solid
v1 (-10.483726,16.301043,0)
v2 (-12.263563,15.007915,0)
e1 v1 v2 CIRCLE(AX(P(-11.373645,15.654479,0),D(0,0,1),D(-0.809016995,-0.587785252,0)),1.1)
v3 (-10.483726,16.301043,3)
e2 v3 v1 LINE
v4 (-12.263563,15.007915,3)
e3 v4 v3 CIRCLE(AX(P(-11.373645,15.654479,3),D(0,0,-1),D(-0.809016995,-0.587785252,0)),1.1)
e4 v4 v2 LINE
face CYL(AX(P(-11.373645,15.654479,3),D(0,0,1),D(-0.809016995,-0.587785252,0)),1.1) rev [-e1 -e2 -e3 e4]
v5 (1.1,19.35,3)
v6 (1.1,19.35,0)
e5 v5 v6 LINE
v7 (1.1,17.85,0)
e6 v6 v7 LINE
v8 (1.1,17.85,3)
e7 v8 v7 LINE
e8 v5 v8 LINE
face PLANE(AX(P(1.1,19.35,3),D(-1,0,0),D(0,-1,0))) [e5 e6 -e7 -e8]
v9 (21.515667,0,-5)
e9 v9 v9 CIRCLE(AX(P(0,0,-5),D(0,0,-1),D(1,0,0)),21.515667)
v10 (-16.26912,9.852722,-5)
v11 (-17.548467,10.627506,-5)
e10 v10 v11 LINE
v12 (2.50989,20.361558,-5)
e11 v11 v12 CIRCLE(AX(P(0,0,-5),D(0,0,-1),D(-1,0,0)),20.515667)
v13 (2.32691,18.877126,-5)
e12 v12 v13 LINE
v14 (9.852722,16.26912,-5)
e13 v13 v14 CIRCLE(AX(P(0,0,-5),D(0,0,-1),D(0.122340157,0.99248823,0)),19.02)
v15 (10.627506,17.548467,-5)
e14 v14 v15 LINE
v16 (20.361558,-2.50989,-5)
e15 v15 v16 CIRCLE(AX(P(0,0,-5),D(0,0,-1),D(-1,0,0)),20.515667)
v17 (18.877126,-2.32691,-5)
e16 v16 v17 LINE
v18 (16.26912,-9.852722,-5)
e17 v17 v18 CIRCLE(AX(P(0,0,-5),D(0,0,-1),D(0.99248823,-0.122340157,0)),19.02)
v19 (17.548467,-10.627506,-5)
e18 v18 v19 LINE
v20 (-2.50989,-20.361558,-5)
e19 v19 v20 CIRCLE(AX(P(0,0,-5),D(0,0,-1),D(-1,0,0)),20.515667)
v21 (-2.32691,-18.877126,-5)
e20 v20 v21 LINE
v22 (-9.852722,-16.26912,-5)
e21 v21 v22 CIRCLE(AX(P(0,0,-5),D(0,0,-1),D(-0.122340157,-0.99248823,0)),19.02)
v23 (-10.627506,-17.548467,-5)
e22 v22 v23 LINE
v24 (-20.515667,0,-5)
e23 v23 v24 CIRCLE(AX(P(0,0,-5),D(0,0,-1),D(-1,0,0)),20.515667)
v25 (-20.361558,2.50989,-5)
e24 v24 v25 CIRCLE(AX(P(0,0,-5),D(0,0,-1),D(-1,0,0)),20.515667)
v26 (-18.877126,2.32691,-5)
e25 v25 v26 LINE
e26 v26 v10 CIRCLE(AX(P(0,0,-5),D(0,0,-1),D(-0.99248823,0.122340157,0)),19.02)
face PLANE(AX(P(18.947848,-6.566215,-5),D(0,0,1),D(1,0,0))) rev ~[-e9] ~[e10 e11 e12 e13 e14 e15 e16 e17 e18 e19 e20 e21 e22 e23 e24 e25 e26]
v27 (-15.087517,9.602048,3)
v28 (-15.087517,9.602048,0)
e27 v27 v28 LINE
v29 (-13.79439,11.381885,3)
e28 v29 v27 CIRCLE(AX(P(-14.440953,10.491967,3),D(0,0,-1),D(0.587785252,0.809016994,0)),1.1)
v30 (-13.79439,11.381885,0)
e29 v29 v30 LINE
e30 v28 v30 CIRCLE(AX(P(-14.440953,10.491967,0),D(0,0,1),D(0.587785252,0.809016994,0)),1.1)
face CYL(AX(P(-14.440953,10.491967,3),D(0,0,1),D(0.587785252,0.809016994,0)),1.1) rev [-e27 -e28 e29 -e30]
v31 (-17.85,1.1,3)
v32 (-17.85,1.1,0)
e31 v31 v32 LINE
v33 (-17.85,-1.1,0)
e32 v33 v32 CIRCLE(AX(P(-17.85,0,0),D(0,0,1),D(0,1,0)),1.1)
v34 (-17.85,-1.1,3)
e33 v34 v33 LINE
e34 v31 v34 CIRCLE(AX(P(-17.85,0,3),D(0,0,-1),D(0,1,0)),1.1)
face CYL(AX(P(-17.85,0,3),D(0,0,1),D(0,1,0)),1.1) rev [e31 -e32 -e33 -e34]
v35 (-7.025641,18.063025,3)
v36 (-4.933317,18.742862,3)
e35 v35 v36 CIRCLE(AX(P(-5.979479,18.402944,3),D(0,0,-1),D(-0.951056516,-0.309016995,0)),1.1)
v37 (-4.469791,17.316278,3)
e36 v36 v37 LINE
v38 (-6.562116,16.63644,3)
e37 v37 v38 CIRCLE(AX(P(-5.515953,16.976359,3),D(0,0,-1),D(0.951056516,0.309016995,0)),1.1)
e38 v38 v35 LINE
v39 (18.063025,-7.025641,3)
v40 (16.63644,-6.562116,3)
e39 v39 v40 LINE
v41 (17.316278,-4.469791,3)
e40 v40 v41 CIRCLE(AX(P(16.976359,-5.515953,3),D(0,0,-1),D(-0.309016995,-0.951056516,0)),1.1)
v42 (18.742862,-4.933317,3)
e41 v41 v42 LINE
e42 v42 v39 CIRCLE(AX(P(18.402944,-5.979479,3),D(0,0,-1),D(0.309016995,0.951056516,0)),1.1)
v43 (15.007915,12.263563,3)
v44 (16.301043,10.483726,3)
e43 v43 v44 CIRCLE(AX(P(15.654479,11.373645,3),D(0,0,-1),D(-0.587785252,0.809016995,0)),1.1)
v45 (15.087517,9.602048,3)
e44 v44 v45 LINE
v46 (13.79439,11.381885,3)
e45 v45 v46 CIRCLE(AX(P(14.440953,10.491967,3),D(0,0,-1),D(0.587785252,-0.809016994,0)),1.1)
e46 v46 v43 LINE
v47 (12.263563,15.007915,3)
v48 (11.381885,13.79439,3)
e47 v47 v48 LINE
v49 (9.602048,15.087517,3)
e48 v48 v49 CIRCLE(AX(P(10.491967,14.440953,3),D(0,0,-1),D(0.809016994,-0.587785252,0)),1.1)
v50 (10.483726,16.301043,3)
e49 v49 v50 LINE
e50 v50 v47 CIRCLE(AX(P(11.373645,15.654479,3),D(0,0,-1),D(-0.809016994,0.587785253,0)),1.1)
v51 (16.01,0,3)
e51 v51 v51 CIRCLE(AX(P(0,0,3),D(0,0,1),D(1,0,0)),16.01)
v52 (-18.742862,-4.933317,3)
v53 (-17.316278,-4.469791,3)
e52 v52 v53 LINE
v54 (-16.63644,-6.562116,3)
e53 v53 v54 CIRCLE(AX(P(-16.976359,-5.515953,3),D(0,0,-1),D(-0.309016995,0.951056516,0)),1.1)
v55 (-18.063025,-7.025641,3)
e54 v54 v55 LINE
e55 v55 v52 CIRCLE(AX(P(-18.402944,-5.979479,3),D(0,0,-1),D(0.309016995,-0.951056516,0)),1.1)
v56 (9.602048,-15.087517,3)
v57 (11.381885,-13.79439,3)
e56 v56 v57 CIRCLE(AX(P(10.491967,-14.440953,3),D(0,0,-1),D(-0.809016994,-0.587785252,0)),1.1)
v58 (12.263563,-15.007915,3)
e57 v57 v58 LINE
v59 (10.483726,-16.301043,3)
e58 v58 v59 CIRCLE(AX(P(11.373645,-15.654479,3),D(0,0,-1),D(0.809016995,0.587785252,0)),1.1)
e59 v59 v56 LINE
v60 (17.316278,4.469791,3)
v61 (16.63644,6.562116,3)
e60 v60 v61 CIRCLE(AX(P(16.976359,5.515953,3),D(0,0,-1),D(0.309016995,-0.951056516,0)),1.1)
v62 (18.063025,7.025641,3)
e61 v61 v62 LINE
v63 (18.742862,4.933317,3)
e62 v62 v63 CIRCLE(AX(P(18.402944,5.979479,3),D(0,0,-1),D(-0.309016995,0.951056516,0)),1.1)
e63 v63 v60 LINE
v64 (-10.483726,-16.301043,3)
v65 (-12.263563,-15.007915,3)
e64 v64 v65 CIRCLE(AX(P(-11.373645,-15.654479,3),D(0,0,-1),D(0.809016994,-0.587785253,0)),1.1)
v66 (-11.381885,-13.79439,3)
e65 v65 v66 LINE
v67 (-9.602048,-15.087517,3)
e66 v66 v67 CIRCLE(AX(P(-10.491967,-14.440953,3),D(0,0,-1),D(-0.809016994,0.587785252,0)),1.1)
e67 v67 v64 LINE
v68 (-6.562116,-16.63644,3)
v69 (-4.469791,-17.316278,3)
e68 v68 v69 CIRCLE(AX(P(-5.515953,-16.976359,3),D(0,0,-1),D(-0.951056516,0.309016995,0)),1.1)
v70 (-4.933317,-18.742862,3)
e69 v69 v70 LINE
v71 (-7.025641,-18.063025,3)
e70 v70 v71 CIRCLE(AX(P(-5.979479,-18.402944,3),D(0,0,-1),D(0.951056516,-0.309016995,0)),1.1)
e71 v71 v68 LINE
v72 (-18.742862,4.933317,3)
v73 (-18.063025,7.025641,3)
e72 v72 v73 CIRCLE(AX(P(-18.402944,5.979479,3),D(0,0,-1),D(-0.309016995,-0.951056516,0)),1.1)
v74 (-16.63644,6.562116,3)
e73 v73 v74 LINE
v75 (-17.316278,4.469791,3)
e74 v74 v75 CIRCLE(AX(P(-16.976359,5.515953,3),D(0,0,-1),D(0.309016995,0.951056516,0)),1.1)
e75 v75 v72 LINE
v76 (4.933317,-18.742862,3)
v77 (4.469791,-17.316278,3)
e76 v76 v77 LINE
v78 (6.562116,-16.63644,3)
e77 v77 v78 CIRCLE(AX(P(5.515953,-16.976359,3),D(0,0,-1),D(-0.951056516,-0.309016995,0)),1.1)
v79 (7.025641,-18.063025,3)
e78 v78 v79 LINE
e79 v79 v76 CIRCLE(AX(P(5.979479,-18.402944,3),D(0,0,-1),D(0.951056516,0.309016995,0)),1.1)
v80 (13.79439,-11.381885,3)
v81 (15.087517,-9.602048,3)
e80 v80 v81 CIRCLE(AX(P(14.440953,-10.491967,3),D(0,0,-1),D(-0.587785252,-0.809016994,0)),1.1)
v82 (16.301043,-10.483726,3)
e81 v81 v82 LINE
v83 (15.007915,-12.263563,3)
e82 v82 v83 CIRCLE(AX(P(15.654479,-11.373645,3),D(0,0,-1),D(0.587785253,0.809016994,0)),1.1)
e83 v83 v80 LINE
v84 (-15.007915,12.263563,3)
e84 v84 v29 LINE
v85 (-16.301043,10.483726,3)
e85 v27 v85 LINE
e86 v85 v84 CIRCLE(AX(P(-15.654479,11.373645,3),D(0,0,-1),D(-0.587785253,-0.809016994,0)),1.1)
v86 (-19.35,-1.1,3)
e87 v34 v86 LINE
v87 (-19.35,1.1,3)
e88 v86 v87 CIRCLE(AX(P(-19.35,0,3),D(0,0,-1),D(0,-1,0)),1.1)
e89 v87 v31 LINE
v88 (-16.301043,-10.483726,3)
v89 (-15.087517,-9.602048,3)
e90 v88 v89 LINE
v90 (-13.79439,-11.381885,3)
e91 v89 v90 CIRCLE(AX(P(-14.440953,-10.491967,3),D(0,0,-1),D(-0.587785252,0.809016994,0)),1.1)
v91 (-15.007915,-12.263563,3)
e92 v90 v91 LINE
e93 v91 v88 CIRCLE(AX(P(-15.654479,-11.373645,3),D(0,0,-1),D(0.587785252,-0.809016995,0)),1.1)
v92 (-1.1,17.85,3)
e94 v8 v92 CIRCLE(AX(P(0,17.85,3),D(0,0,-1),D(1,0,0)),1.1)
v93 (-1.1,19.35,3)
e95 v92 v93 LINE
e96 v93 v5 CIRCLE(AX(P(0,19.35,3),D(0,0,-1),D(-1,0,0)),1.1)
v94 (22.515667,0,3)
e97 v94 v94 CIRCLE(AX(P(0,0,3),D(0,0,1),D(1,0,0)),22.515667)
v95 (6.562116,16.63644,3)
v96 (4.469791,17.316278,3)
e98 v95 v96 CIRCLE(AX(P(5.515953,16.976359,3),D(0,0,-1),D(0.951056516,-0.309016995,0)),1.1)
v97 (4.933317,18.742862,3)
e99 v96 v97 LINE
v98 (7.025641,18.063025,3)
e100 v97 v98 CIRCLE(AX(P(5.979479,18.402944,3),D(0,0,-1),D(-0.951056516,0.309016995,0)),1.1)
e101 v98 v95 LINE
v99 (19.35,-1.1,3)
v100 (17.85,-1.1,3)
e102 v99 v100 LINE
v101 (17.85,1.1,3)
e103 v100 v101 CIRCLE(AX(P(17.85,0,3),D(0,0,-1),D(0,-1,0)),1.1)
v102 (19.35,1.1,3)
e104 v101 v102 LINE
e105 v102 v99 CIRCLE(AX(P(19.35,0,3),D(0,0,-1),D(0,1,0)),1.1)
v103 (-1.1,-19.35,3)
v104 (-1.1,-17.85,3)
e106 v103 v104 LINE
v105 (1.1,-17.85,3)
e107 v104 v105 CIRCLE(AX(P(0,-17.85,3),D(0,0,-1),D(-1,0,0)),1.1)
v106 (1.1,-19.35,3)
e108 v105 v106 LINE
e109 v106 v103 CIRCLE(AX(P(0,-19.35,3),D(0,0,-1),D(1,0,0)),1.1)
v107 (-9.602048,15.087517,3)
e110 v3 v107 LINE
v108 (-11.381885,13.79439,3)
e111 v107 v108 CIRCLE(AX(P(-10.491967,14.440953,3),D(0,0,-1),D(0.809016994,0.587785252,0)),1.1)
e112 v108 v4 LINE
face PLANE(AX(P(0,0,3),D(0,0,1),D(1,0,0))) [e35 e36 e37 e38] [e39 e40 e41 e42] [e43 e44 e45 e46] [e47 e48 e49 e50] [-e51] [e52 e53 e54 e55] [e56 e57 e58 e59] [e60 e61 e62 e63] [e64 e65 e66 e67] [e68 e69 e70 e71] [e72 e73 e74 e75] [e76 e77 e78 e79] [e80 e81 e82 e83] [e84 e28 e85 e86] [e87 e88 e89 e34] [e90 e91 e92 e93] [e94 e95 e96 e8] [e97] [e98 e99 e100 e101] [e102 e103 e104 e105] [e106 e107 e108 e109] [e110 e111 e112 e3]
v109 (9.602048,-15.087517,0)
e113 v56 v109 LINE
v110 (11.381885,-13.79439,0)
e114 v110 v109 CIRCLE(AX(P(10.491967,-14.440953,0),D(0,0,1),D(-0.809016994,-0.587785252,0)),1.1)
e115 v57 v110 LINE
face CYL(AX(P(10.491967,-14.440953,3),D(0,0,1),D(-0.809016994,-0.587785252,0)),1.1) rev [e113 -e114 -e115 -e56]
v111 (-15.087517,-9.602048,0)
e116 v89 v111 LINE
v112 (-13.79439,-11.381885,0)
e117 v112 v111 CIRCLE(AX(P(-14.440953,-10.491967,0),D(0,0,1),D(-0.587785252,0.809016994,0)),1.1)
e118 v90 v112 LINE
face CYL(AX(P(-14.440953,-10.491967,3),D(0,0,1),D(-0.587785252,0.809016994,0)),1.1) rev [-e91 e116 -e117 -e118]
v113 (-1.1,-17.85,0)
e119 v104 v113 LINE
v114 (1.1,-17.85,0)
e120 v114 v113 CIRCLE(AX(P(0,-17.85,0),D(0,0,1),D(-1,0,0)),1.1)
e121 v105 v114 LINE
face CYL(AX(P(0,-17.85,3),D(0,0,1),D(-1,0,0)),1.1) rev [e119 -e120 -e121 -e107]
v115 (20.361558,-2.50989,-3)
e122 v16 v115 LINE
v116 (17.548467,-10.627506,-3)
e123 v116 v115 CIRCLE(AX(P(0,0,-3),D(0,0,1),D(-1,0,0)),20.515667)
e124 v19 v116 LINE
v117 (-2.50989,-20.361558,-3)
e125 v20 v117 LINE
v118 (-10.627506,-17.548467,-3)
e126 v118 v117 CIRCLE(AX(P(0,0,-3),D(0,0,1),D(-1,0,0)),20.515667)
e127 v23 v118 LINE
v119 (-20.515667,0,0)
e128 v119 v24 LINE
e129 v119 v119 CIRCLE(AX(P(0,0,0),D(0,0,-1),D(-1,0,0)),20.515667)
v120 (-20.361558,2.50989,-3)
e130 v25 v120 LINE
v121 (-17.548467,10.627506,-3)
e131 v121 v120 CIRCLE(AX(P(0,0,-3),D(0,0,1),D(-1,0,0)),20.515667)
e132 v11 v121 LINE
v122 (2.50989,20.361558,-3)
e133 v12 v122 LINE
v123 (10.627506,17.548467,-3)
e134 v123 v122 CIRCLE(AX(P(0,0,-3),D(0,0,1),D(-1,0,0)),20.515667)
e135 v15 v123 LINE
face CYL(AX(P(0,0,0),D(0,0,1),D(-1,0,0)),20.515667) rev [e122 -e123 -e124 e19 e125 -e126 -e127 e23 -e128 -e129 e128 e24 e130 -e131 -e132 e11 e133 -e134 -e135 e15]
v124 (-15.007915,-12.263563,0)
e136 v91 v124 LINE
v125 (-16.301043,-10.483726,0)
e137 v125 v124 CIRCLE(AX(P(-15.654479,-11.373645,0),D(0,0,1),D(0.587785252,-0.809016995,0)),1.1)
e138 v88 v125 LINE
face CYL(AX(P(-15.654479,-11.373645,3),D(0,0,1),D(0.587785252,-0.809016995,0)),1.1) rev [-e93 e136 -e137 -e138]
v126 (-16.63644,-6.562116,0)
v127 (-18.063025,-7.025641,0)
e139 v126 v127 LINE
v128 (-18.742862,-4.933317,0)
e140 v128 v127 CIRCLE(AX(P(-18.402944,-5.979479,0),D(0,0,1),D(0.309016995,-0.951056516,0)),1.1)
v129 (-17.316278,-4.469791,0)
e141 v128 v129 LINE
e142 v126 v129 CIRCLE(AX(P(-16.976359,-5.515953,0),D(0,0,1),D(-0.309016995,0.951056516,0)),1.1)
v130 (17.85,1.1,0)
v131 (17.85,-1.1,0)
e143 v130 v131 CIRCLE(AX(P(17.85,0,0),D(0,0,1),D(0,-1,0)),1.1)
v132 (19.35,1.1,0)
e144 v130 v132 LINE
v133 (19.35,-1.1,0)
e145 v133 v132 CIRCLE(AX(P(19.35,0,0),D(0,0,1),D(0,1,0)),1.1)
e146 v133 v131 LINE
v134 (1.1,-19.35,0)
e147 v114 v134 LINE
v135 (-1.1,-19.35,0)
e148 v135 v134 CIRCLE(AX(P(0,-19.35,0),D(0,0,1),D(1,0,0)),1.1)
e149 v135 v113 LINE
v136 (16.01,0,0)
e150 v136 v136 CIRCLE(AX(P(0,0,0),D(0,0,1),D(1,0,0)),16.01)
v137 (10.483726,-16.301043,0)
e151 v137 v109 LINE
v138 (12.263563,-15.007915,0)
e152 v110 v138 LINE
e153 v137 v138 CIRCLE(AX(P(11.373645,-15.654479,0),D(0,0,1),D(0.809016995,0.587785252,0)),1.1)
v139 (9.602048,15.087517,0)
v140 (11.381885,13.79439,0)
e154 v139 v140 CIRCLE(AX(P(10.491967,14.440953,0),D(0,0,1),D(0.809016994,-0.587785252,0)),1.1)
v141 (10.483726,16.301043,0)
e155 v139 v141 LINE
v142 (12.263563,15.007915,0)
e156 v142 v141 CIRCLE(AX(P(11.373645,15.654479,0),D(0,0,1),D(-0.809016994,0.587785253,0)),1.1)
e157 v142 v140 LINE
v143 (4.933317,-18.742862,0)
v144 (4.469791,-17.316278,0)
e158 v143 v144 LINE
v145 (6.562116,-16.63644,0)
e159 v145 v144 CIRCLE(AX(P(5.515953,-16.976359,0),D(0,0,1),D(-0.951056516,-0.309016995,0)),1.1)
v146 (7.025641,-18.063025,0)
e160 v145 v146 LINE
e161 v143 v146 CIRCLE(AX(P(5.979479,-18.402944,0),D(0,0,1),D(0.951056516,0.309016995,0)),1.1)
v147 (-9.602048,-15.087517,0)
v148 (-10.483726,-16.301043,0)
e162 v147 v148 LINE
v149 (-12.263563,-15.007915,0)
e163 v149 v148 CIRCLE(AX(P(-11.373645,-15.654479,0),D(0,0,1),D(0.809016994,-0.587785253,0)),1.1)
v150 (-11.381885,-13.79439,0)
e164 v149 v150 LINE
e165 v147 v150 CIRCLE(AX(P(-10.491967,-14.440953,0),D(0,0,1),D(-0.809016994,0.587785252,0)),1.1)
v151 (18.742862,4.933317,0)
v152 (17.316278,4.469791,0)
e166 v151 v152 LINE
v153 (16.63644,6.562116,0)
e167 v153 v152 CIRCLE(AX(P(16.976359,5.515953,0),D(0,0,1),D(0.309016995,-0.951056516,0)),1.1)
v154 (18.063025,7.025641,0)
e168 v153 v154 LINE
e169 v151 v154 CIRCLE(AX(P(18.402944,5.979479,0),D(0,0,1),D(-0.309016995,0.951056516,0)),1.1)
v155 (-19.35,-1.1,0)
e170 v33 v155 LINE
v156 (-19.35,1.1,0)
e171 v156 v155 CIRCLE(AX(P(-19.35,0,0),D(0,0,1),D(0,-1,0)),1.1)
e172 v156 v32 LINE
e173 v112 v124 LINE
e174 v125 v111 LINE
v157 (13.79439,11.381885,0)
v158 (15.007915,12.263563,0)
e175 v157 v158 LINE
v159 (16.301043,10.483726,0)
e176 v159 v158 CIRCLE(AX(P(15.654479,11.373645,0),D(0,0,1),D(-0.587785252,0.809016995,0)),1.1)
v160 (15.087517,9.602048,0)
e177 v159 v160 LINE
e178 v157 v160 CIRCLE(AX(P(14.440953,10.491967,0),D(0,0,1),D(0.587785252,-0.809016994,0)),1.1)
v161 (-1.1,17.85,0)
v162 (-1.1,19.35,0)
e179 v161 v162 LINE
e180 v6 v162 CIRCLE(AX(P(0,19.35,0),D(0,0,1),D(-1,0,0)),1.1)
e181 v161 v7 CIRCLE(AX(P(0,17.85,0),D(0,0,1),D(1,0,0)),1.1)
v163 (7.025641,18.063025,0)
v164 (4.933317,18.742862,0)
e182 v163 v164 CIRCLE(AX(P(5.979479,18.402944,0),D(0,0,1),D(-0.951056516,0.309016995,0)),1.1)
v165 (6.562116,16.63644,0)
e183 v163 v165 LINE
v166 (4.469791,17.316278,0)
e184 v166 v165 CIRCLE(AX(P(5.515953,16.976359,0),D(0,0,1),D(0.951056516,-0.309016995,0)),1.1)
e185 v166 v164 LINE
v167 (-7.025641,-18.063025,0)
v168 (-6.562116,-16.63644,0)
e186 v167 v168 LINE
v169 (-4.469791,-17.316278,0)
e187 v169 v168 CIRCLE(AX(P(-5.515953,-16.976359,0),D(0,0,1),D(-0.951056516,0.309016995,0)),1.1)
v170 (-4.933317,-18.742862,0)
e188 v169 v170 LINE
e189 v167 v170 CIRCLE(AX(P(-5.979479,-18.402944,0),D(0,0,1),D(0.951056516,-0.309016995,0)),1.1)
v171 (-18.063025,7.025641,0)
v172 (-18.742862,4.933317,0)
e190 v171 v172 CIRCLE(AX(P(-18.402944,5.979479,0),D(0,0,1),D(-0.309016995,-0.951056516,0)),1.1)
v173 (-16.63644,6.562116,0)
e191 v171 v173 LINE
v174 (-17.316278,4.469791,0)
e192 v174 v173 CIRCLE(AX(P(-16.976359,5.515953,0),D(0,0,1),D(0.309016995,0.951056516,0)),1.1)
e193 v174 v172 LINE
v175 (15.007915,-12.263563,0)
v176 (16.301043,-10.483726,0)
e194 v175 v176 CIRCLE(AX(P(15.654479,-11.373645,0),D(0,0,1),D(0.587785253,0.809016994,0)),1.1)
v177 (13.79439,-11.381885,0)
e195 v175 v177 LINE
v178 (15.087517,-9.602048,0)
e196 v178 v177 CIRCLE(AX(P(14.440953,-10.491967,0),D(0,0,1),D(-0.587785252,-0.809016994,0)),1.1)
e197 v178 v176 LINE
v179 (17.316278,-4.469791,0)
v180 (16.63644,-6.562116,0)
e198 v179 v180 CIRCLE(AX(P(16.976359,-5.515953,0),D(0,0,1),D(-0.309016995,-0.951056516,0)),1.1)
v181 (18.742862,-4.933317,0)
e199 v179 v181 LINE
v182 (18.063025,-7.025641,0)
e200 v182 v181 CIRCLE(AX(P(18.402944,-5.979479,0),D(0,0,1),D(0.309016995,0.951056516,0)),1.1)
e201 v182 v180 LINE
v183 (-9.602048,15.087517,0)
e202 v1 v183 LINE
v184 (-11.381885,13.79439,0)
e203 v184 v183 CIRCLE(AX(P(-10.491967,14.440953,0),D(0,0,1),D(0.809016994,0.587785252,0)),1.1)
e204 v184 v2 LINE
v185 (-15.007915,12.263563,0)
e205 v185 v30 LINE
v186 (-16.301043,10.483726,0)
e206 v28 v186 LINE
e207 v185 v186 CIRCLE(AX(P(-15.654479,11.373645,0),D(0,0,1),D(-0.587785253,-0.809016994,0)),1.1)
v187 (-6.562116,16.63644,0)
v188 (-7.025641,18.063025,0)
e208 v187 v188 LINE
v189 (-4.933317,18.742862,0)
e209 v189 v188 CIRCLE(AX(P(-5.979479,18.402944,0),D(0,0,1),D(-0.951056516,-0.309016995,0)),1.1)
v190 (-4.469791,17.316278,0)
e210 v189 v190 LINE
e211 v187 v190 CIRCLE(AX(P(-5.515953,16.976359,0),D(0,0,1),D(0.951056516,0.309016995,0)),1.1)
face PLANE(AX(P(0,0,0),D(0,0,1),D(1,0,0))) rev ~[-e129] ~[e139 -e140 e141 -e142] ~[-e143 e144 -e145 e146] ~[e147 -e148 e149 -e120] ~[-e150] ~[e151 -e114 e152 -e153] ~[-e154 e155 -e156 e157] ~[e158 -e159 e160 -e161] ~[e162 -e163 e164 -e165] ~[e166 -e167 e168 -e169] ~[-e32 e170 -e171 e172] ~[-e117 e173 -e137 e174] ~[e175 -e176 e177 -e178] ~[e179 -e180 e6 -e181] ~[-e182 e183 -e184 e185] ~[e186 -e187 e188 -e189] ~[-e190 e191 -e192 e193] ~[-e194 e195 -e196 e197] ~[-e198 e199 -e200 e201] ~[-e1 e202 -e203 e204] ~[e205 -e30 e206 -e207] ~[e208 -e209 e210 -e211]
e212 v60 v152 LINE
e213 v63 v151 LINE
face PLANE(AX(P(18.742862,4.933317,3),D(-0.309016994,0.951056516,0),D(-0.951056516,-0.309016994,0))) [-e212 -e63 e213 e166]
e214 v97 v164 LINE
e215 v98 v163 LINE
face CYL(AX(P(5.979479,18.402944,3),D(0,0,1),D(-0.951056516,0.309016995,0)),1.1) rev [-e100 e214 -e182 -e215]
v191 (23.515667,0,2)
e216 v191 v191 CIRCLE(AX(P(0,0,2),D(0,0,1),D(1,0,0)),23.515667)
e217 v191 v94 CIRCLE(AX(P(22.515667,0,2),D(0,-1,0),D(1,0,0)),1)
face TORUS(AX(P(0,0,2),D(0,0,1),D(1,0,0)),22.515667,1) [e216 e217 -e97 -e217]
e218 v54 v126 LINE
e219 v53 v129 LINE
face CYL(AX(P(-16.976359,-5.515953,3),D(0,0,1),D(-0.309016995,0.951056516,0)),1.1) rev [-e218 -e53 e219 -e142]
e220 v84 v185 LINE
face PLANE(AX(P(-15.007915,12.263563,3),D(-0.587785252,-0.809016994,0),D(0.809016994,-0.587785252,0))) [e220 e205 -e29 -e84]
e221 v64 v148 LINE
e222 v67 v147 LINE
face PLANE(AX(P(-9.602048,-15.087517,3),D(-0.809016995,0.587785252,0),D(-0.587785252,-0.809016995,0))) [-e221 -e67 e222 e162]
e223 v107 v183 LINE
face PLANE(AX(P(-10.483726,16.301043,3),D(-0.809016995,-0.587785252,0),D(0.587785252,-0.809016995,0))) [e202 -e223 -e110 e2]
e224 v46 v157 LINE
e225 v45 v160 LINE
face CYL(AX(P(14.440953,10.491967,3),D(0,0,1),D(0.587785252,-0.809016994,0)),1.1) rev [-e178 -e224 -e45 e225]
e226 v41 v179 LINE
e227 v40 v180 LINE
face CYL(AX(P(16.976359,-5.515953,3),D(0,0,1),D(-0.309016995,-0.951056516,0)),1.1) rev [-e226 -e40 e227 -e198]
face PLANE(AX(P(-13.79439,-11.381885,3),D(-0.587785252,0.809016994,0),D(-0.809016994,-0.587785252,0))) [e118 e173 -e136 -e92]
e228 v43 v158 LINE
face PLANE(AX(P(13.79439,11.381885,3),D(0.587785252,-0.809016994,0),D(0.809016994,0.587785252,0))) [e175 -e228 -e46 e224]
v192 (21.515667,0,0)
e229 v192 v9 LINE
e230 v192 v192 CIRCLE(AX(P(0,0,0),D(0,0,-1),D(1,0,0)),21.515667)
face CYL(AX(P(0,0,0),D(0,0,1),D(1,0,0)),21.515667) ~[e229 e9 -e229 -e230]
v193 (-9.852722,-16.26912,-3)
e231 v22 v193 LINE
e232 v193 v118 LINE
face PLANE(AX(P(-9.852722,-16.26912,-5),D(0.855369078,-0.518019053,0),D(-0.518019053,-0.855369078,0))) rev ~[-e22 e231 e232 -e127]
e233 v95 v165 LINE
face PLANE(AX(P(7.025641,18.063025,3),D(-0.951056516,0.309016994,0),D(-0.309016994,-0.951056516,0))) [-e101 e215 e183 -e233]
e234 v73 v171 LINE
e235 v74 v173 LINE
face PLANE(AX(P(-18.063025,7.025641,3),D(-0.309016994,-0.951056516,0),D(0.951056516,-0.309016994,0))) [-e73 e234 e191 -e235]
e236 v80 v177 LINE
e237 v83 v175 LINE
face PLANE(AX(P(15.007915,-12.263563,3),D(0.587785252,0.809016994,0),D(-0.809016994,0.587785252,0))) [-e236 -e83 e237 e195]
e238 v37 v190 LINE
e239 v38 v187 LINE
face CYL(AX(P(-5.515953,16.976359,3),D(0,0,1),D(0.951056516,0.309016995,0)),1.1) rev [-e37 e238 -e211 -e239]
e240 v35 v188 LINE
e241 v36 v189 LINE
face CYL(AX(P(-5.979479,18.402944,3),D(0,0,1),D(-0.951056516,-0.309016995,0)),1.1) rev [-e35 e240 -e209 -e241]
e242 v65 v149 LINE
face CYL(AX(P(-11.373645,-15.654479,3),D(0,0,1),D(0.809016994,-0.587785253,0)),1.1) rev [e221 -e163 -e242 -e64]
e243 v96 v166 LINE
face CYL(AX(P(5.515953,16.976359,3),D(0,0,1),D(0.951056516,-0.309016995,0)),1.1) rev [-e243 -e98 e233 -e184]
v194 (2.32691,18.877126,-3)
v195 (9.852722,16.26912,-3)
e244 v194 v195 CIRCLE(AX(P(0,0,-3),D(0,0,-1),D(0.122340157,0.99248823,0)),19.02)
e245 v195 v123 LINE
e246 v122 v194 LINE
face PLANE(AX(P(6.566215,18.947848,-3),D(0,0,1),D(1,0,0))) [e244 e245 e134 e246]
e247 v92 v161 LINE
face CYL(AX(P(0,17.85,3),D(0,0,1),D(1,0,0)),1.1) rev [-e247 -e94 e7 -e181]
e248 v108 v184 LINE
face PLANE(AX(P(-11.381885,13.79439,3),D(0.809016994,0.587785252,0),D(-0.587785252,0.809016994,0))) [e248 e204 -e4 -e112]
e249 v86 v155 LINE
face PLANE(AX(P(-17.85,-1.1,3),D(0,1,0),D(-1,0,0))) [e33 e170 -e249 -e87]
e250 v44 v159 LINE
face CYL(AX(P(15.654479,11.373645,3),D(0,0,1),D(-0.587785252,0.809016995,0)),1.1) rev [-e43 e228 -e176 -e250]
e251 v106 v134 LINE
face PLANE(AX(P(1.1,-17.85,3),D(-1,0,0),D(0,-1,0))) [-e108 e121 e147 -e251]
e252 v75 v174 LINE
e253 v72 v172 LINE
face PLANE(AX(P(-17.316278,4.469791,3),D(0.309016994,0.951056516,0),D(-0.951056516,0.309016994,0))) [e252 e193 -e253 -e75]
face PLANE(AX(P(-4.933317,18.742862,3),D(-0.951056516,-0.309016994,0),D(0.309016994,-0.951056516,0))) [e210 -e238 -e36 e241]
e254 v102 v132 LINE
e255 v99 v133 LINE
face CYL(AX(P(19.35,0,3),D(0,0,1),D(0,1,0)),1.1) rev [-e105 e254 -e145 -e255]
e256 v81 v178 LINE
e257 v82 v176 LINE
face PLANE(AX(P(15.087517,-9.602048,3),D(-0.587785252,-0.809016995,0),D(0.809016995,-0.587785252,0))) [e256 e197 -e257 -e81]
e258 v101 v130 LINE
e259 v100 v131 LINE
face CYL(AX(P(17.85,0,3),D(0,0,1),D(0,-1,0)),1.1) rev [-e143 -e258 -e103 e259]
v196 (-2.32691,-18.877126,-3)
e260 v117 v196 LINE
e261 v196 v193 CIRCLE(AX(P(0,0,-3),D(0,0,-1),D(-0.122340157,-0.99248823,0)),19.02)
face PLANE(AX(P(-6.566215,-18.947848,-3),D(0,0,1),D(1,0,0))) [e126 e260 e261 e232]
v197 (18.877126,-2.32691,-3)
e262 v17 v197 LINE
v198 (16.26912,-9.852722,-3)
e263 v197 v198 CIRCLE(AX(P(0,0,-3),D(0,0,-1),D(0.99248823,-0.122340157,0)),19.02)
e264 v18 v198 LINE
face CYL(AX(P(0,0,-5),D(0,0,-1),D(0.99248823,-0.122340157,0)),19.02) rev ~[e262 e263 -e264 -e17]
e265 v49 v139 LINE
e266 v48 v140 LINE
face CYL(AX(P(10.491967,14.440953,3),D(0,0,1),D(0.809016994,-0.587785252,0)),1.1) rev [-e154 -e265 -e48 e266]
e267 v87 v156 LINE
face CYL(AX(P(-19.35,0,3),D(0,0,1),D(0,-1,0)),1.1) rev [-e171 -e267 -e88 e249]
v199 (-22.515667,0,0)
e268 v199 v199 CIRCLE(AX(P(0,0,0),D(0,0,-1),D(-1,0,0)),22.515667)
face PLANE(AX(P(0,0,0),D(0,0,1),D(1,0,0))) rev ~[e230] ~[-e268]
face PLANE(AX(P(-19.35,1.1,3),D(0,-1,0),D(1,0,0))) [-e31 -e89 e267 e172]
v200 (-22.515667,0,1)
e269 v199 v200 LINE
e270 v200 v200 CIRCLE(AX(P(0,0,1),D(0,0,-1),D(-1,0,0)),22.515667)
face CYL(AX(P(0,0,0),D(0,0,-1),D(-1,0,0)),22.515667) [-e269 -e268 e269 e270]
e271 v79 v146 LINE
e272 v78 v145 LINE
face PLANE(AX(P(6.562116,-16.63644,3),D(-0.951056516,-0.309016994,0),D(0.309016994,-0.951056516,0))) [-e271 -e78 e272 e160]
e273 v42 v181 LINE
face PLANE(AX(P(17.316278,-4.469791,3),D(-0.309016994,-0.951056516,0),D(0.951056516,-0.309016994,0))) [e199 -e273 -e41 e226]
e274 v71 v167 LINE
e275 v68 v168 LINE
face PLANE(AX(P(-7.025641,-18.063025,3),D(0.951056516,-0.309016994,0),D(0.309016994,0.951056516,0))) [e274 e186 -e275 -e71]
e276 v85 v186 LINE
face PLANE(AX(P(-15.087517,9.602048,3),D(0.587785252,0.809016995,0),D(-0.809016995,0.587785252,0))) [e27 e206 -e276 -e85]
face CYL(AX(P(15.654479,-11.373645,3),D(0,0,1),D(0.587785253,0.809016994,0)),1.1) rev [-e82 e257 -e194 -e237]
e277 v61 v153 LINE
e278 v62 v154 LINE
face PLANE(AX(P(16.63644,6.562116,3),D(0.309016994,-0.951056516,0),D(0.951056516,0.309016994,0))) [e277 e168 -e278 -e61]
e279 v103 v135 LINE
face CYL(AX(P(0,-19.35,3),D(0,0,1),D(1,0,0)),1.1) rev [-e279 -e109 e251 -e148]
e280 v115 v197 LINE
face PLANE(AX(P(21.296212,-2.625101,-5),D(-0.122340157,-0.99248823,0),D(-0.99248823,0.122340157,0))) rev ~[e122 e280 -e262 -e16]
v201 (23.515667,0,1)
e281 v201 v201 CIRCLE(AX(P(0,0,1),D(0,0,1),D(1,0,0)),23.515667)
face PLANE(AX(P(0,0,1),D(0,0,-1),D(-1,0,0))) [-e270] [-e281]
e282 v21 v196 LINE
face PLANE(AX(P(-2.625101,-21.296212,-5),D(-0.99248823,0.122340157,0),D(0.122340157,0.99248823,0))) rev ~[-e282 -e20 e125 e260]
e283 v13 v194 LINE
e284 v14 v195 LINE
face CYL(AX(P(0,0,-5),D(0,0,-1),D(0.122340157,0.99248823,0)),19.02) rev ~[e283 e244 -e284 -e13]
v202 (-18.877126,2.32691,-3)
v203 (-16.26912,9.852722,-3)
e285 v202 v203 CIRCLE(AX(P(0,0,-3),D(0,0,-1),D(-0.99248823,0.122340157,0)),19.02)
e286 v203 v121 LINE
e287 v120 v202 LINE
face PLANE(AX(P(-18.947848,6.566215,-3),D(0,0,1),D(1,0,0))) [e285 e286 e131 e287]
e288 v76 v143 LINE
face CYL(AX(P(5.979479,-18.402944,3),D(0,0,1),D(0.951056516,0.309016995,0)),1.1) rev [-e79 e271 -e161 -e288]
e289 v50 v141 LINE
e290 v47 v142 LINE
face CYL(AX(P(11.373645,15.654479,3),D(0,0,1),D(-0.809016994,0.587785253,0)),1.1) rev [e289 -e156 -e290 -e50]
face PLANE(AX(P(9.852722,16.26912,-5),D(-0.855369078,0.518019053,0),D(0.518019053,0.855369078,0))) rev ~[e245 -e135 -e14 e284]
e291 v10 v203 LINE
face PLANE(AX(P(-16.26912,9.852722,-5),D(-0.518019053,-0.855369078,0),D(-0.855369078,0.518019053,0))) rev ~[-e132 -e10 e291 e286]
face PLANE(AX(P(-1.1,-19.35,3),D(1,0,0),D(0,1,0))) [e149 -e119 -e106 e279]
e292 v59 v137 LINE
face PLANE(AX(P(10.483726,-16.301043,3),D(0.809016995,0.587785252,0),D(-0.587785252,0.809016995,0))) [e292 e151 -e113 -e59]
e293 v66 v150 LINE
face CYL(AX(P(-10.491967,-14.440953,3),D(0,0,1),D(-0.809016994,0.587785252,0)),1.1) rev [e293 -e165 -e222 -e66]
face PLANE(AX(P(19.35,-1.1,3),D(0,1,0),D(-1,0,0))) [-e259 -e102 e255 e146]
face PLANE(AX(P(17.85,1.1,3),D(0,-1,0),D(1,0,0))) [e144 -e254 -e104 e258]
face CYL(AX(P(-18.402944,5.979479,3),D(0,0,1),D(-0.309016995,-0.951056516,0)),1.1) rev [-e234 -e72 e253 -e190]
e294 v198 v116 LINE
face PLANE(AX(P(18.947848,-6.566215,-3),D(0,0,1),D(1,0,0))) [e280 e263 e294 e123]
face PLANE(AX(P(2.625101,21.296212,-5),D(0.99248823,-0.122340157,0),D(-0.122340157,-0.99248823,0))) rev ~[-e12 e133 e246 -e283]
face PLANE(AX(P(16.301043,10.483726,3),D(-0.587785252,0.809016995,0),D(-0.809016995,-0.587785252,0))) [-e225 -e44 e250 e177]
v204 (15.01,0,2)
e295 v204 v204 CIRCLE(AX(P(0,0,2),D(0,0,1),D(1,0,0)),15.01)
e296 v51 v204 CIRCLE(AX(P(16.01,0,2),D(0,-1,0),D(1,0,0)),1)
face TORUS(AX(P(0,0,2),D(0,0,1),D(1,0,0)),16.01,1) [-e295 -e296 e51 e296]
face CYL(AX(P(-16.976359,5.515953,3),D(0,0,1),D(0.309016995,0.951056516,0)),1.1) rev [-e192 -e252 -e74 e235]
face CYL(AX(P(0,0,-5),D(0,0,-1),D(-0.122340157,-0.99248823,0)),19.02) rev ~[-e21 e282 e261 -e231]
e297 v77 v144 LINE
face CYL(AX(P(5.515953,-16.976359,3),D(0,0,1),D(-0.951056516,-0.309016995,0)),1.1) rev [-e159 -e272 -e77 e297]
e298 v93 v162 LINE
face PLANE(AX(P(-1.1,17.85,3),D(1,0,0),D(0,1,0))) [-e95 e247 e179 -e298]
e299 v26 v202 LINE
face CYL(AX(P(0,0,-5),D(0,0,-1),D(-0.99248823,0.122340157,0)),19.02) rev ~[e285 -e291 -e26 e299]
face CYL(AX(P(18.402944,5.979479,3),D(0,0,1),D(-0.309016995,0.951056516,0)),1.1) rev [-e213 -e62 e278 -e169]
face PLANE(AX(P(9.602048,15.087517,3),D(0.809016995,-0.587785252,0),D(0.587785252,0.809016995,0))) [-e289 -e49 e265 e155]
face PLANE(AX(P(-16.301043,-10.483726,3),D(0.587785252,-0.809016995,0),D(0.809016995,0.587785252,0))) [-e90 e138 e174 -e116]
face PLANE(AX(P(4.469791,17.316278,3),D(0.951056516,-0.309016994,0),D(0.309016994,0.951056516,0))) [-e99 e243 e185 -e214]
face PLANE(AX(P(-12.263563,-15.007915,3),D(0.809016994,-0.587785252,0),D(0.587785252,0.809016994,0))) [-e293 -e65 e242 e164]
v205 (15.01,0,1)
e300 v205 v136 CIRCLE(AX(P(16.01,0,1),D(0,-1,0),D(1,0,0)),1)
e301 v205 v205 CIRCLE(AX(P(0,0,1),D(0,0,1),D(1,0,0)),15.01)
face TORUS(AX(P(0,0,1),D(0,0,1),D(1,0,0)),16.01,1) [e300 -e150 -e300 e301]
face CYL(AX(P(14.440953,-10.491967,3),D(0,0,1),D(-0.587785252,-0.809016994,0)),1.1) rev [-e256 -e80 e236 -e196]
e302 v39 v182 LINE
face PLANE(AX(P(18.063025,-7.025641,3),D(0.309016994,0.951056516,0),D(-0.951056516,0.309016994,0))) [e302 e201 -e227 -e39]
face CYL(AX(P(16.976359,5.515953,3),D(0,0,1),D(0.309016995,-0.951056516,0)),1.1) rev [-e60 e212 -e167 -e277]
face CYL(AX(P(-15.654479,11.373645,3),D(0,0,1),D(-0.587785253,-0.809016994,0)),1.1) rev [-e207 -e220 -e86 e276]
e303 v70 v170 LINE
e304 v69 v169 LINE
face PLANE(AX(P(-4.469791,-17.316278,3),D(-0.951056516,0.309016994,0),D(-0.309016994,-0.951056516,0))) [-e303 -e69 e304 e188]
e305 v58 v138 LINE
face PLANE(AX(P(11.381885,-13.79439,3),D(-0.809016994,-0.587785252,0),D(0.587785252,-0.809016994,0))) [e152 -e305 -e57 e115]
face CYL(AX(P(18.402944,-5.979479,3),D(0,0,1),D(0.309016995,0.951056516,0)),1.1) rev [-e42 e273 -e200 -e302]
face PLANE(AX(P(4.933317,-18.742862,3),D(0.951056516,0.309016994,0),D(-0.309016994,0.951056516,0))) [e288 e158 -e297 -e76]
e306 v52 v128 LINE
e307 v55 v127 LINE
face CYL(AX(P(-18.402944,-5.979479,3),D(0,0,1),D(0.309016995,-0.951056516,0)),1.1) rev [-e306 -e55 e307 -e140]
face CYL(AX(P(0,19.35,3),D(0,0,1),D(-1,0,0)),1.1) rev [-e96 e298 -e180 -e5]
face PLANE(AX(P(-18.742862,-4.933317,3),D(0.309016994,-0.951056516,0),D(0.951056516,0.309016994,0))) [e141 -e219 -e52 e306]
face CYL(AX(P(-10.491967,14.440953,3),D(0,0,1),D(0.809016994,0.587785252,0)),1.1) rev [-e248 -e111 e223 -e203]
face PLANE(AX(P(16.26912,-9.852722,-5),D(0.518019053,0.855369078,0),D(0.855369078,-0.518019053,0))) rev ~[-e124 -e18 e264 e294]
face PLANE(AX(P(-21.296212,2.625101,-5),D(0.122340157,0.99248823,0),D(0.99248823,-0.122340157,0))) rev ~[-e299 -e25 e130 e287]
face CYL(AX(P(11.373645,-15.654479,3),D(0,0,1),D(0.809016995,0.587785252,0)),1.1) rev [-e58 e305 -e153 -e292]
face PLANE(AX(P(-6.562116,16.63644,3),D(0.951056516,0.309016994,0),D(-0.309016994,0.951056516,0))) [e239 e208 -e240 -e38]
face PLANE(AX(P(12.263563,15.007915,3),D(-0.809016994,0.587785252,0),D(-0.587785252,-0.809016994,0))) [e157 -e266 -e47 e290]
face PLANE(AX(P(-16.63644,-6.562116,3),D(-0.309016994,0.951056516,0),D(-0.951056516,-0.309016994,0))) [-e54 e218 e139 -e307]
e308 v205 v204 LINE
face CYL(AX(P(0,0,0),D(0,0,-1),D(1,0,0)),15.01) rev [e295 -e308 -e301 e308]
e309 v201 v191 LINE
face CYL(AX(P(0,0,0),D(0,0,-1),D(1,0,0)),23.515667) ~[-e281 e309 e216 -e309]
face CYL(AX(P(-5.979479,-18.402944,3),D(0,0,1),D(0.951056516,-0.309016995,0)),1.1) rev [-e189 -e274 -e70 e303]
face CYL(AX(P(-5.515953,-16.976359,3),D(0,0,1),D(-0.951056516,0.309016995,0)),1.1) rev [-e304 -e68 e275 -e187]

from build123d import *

# Parameters (mm, degrees)
SKETCH_1_R          = 23.515666667
SKETCH_1_R_2        = 15.01
EXTRUDE_1_DEPTH     = 3
SKETCH_2_R          = 23.515666667
SKETCH_2_R_2        = 22.515666667
CUT_EXTRUDE_3_DEPTH = 1
FILLET_1_R          = 1
FILLET_2_R          = 1
FILLET_3_R          = 1
CUT_EXTRUDE_4_DEPTH = 34.391213778
SKETCH_5_R          = 21.515666667
SKETCH_5_R_2        = 20.515666667
EXTRUDE_2_DEPTH     = 5
EXTRUDE_3_DEPTH     = 2


with BuildPart() as part:
    # 草图1 → 凸台-拉伸1 (new body)
    with BuildSketch(Plane.XY):
        Circle(SKETCH_1_R)
        Circle(SKETCH_1_R_2, mode=Mode.SUBTRACT)
    extrude(amount=EXTRUDE_1_DEPTH)

    # 草图2 → 切除-拉伸3 (cut)
    with BuildSketch(Plane(origin=(0, 0, 0), x_dir=(-1, 0, 0), z_dir=(0, 0, -1))):
        Circle(SKETCH_2_R)
        Circle(SKETCH_2_R_2, mode=Mode.SUBTRACT)
    extrude(amount=-CUT_EXTRUDE_3_DEPTH, mode=Mode.SUBTRACT)

    # 圆角1
    fillet_1_edges = [part.edges().sort_by_distance(p)[0] for p in [
        (-23.515666667, 0, 3),
    ]]
    fillet(fillet_1_edges, radius=FILLET_1_R)

    # 圆角2
    fillet_2_edges = [part.edges().sort_by_distance(p)[0] for p in [
        (-15.01, 0, 3),
    ]]
    fillet(fillet_2_edges, radius=FILLET_2_R)

    # 圆角3
    fillet_3_edges = [part.edges().sort_by_distance(p)[0] for p in [
        (-15.01, 0, 0),
    ]]
    fillet(fillet_3_edges, radius=FILLET_3_R)

    # 草图3 → 切除-拉伸4 (cut, through all)
    with BuildSketch(Plane.XY.offset(3)):
        with BuildLine():
            Line((1.1, 19.35), (1.1, 17.85))
            ThreePointArc((1.1, 17.85), (0, 16.75), (-1.1, 17.85))
            Line((-1.1, 17.85), (-1.1, 19.35))
            ThreePointArc((-1.1, 19.35), (0, 20.45), (1.1, 19.35))
        make_face()
        with BuildLine():
            Line((7.025641009, 18.063024896), (6.562115518, 16.636440122))
            ThreePointArc((6.562115518, 16.636440122), (5.176034656, 15.930196648), (4.469791182, 17.31627751))
            Line((4.469791182, 17.31627751), (4.933316673, 18.742862284))
            ThreePointArc((4.933316673, 18.742862284), (6.319397535, 19.449105758), (7.025641009, 18.063024896))
        make_face()
        with BuildLine():
            Line((12.263563326, 15.007915064), (11.381885447, 13.794389572))
            ThreePointArc((11.381885447, 13.794389572), (9.845402976, 13.551034656), (9.60204806, 15.087517127))
            Line((9.60204806, 15.087517127), (10.483725938, 16.301042619))
            ThreePointArc((10.483725938, 16.301042619), (12.020208409, 16.544397535), (12.263563326, 15.007915064))
        make_face()
        with BuildLine():
            Line((16.301042619, 10.483725938), (15.087517127, 9.60204806))
            ThreePointArc((15.087517127, 9.60204806), (13.551034656, 9.845402976), (13.794389572, 11.381885447))
            Line((13.794389572, 11.381885447), (15.007915064, 12.263563326))
            ThreePointArc((15.007915064, 12.263563326), (16.544397535, 12.020208409), (16.301042619, 10.483725938))
        make_face()
        with BuildLine():
            Line((18.742862284, 4.933316673), (17.31627751, 4.469791182))
            ThreePointArc((17.31627751, 4.469791182), (15.930196648, 5.176034656), (16.636440122, 6.562115518))
            Line((16.636440122, 6.562115518), (18.063024896, 7.025641009))
            ThreePointArc((18.063024896, 7.025641009), (19.449105758, 6.319397535), (18.742862284, 4.933316673))
        make_face()
        with BuildLine():
            Line((19.35, -1.1), (17.85, -1.1))
            ThreePointArc((17.85, -1.1), (16.75, 0), (17.85, 1.1))
            Line((17.85, 1.1), (19.35, 1.1))
            ThreePointArc((19.35, 1.1), (20.45, 0), (19.35, -1.1))
        make_face()
        with BuildLine():
            Line((18.063024896, -7.025641009), (16.636440122, -6.562115518))
            ThreePointArc((16.636440122, -6.562115518), (15.930196648, -5.176034656), (17.31627751, -4.469791182))
            Line((17.31627751, -4.469791182), (18.742862284, -4.933316673))
            ThreePointArc((18.742862284, -4.933316673), (19.449105758, -6.319397535), (18.063024896, -7.025641009))
        make_face()
        with BuildLine():
            Line((15.007915064, -12.263563326), (13.794389572, -11.381885447))
            ThreePointArc((13.794389572, -11.381885447), (13.551034656, -9.845402976), (15.087517127, -9.60204806))
            Line((15.087517127, -9.60204806), (16.301042619, -10.483725938))
            ThreePointArc((16.301042619, -10.483725938), (16.544397535, -12.020208409), (15.007915064, -12.263563326))
        make_face()
        with BuildLine():
            Line((10.483725938, -16.301042619), (9.60204806, -15.087517127))
            ThreePointArc((9.60204806, -15.087517127), (9.845402976, -13.551034656), (11.381885447, -13.794389572))
            Line((11.381885447, -13.794389572), (12.263563326, -15.007915064))
            ThreePointArc((12.263563326, -15.007915064), (12.020208409, -16.544397535), (10.483725938, -16.301042619))
        make_face()
        with BuildLine():
            Line((4.933316673, -18.742862284), (4.469791182, -17.31627751))
            ThreePointArc((4.469791182, -17.31627751), (5.176034656, -15.930196648), (6.562115518, -16.636440122))
            Line((6.562115518, -16.636440122), (7.025641009, -18.063024896))
            ThreePointArc((7.025641009, -18.063024896), (6.319397535, -19.449105758), (4.933316673, -18.742862284))
        make_face()
        with BuildLine():
            Line((-1.1, -19.35), (-1.1, -17.85))
            ThreePointArc((-1.1, -17.85), (0, -16.75), (1.1, -17.85))
            Line((1.1, -17.85), (1.1, -19.35))
            ThreePointArc((1.1, -19.35), (0, -20.45), (-1.1, -19.35))
        make_face()
        with BuildLine():
            Line((-7.025641009, -18.063024896), (-6.562115518, -16.636440122))
            ThreePointArc((-6.562115518, -16.636440122), (-5.176034656, -15.930196648), (-4.469791182, -17.31627751))
            Line((-4.469791182, -17.31627751), (-4.933316673, -18.742862284))
            ThreePointArc((-4.933316673, -18.742862284), (-6.319397535, -19.449105758), (-7.025641009, -18.063024896))
        make_face()
        with BuildLine():
            Line((-12.263563326, -15.007915064), (-11.381885447, -13.794389572))
            ThreePointArc((-11.381885447, -13.794389572), (-9.845402976, -13.551034656), (-9.60204806, -15.087517127))
            Line((-9.60204806, -15.087517127), (-10.483725938, -16.301042619))
            ThreePointArc((-10.483725938, -16.301042619), (-12.020208409, -16.544397535), (-12.263563326, -15.007915064))
        make_face()
        with BuildLine():
            Line((-16.301042619, -10.483725938), (-15.087517127, -9.60204806))
            ThreePointArc((-15.087517127, -9.60204806), (-13.551034656, -9.845402976), (-13.794389572, -11.381885447))
            Line((-13.794389572, -11.381885447), (-15.007915064, -12.263563326))
            ThreePointArc((-15.007915064, -12.263563326), (-16.544397535, -12.020208409), (-16.301042619, -10.483725938))
        make_face()
        with BuildLine():
            Line((-18.742862284, -4.933316673), (-17.31627751, -4.469791182))
            ThreePointArc((-17.31627751, -4.469791182), (-15.930196648, -5.176034656), (-16.636440122, -6.562115518))
            Line((-16.636440122, -6.562115518), (-18.063024896, -7.025641009))
            ThreePointArc((-18.063024896, -7.025641009), (-19.449105758, -6.319397535), (-18.742862284, -4.933316673))
        make_face()
        with BuildLine():
            Line((-19.35, 1.1), (-17.85, 1.1))
            ThreePointArc((-17.85, 1.1), (-16.75, 0), (-17.85, -1.1))
            Line((-17.85, -1.1), (-19.35, -1.1))
            ThreePointArc((-19.35, -1.1), (-20.45, 0), (-19.35, 1.1))
        make_face()
        with BuildLine():
            Line((-18.063024896, 7.025641009), (-16.636440122, 6.562115518))
            ThreePointArc((-16.636440122, 6.562115518), (-15.930196648, 5.176034656), (-17.31627751, 4.469791182))
            Line((-17.31627751, 4.469791182), (-18.742862284, 4.933316673))
            ThreePointArc((-18.742862284, 4.933316673), (-19.449105758, 6.319397535), (-18.063024896, 7.025641009))
        make_face()
        with BuildLine():
            Line((-15.007915064, 12.263563326), (-13.794389572, 11.381885447))
            ThreePointArc((-13.794389572, 11.381885447), (-13.551034656, 9.845402976), (-15.087517127, 9.60204806))
            Line((-15.087517127, 9.60204806), (-16.301042619, 10.483725938))
            ThreePointArc((-16.301042619, 10.483725938), (-16.544397535, 12.020208409), (-15.007915064, 12.263563326))
        make_face()
        with BuildLine():
            Line((-10.483725938, 16.301042619), (-9.60204806, 15.087517127))
            ThreePointArc((-9.60204806, 15.087517127), (-9.845402976, 13.551034656), (-11.381885447, 13.794389572))
            Line((-11.381885447, 13.794389572), (-12.263563326, 15.007915064))
            ThreePointArc((-12.263563326, 15.007915064), (-12.020208409, 16.544397535), (-10.483725938, 16.301042619))
        make_face()
        with BuildLine():
            Line((-4.933316673, 18.742862284), (-4.469791182, 17.31627751))
            ThreePointArc((-4.469791182, 17.31627751), (-5.176034656, 15.930196648), (-6.562115518, 16.636440122))
            Line((-6.562115518, 16.636440122), (-7.025641009, 18.063024896))
            ThreePointArc((-7.025641009, 18.063024896), (-6.319397535, 19.449105758), (-4.933316673, 18.742862284))
        make_face()
    extrude(amount=-CUT_EXTRUDE_4_DEPTH, mode=Mode.SUBTRACT)

    # 草图5 → 凸台-拉伸2 (add)
    with BuildSketch(Plane(origin=(0, 0, 0), x_dir=(-1, 0, 0), z_dir=(0, 0, -1))):
        with Locations(Location((0, 0, 0), (0, 0, 180))):
            Circle(SKETCH_5_R)
        Circle(SKETCH_5_R_2, mode=Mode.SUBTRACT)
    extrude(amount=EXTRUDE_2_DEPTH)

    # 草图6 → 凸台-拉伸3 (add)
    with BuildSketch(Plane(origin=(0, 0, -5), x_dir=(-1, 0, 0), z_dir=(0, 0, -1))):
        with BuildLine():
            Line((-16.26911987, -9.852722397), (-18.353991972, -11.115339319))
            ThreePointArc((-18.353991972, -11.115339319), (-20.274508623, -7.025958268), (-21.29621173, -2.625101039))
            Line((-21.29621173, -2.625101039), (-18.877126128, -2.326909783))
            ThreePointArc((-18.877126128, -2.326909783), (-17.971480624, -6.227863532), (-16.26911987, -9.852722397))
        make_face()
        with BuildLine():
            Line((-9.852722397, 16.26911987), (-11.115339319, 18.353991972))
            ThreePointArc((-11.115339319, 18.353991972), (-7.025958268, 20.274508623), (-2.625101039, 21.29621173))
            Line((-2.625101039, 21.29621173), (-2.326909783, 18.877126128))
            ThreePointArc((-2.326909783, 18.877126128), (-6.227863532, 17.971480624), (-9.852722397, 16.26911987))
        make_face()
        with BuildLine():
            Line((16.26911987, 9.852722397), (18.353991972, 11.115339319))
            ThreePointArc((18.353991972, 11.115339319), (20.274508623, 7.025958268), (21.29621173, 2.625101039))
            Line((21.29621173, 2.625101039), (18.877126128, 2.326909783))
            ThreePointArc((18.877126128, 2.326909783), (17.971480624, 6.227863532), (16.26911987, 9.852722397))
        make_face()
        with BuildLine():
            Line((9.852722397, -16.26911987), (11.115339319, -18.353991972))
            ThreePointArc((11.115339319, -18.353991972), (7.025958268, -20.274508623), (2.625101039, -21.29621173))
            Line((2.625101039, -21.29621173), (2.326909783, -18.877126128))
            ThreePointArc((2.326909783, -18.877126128), (6.227863532, -17.971480624), (9.852722397, -16.26911987))
        make_face()
    extrude(amount=-EXTRUDE_3_DEPTH)


solid = part.part
